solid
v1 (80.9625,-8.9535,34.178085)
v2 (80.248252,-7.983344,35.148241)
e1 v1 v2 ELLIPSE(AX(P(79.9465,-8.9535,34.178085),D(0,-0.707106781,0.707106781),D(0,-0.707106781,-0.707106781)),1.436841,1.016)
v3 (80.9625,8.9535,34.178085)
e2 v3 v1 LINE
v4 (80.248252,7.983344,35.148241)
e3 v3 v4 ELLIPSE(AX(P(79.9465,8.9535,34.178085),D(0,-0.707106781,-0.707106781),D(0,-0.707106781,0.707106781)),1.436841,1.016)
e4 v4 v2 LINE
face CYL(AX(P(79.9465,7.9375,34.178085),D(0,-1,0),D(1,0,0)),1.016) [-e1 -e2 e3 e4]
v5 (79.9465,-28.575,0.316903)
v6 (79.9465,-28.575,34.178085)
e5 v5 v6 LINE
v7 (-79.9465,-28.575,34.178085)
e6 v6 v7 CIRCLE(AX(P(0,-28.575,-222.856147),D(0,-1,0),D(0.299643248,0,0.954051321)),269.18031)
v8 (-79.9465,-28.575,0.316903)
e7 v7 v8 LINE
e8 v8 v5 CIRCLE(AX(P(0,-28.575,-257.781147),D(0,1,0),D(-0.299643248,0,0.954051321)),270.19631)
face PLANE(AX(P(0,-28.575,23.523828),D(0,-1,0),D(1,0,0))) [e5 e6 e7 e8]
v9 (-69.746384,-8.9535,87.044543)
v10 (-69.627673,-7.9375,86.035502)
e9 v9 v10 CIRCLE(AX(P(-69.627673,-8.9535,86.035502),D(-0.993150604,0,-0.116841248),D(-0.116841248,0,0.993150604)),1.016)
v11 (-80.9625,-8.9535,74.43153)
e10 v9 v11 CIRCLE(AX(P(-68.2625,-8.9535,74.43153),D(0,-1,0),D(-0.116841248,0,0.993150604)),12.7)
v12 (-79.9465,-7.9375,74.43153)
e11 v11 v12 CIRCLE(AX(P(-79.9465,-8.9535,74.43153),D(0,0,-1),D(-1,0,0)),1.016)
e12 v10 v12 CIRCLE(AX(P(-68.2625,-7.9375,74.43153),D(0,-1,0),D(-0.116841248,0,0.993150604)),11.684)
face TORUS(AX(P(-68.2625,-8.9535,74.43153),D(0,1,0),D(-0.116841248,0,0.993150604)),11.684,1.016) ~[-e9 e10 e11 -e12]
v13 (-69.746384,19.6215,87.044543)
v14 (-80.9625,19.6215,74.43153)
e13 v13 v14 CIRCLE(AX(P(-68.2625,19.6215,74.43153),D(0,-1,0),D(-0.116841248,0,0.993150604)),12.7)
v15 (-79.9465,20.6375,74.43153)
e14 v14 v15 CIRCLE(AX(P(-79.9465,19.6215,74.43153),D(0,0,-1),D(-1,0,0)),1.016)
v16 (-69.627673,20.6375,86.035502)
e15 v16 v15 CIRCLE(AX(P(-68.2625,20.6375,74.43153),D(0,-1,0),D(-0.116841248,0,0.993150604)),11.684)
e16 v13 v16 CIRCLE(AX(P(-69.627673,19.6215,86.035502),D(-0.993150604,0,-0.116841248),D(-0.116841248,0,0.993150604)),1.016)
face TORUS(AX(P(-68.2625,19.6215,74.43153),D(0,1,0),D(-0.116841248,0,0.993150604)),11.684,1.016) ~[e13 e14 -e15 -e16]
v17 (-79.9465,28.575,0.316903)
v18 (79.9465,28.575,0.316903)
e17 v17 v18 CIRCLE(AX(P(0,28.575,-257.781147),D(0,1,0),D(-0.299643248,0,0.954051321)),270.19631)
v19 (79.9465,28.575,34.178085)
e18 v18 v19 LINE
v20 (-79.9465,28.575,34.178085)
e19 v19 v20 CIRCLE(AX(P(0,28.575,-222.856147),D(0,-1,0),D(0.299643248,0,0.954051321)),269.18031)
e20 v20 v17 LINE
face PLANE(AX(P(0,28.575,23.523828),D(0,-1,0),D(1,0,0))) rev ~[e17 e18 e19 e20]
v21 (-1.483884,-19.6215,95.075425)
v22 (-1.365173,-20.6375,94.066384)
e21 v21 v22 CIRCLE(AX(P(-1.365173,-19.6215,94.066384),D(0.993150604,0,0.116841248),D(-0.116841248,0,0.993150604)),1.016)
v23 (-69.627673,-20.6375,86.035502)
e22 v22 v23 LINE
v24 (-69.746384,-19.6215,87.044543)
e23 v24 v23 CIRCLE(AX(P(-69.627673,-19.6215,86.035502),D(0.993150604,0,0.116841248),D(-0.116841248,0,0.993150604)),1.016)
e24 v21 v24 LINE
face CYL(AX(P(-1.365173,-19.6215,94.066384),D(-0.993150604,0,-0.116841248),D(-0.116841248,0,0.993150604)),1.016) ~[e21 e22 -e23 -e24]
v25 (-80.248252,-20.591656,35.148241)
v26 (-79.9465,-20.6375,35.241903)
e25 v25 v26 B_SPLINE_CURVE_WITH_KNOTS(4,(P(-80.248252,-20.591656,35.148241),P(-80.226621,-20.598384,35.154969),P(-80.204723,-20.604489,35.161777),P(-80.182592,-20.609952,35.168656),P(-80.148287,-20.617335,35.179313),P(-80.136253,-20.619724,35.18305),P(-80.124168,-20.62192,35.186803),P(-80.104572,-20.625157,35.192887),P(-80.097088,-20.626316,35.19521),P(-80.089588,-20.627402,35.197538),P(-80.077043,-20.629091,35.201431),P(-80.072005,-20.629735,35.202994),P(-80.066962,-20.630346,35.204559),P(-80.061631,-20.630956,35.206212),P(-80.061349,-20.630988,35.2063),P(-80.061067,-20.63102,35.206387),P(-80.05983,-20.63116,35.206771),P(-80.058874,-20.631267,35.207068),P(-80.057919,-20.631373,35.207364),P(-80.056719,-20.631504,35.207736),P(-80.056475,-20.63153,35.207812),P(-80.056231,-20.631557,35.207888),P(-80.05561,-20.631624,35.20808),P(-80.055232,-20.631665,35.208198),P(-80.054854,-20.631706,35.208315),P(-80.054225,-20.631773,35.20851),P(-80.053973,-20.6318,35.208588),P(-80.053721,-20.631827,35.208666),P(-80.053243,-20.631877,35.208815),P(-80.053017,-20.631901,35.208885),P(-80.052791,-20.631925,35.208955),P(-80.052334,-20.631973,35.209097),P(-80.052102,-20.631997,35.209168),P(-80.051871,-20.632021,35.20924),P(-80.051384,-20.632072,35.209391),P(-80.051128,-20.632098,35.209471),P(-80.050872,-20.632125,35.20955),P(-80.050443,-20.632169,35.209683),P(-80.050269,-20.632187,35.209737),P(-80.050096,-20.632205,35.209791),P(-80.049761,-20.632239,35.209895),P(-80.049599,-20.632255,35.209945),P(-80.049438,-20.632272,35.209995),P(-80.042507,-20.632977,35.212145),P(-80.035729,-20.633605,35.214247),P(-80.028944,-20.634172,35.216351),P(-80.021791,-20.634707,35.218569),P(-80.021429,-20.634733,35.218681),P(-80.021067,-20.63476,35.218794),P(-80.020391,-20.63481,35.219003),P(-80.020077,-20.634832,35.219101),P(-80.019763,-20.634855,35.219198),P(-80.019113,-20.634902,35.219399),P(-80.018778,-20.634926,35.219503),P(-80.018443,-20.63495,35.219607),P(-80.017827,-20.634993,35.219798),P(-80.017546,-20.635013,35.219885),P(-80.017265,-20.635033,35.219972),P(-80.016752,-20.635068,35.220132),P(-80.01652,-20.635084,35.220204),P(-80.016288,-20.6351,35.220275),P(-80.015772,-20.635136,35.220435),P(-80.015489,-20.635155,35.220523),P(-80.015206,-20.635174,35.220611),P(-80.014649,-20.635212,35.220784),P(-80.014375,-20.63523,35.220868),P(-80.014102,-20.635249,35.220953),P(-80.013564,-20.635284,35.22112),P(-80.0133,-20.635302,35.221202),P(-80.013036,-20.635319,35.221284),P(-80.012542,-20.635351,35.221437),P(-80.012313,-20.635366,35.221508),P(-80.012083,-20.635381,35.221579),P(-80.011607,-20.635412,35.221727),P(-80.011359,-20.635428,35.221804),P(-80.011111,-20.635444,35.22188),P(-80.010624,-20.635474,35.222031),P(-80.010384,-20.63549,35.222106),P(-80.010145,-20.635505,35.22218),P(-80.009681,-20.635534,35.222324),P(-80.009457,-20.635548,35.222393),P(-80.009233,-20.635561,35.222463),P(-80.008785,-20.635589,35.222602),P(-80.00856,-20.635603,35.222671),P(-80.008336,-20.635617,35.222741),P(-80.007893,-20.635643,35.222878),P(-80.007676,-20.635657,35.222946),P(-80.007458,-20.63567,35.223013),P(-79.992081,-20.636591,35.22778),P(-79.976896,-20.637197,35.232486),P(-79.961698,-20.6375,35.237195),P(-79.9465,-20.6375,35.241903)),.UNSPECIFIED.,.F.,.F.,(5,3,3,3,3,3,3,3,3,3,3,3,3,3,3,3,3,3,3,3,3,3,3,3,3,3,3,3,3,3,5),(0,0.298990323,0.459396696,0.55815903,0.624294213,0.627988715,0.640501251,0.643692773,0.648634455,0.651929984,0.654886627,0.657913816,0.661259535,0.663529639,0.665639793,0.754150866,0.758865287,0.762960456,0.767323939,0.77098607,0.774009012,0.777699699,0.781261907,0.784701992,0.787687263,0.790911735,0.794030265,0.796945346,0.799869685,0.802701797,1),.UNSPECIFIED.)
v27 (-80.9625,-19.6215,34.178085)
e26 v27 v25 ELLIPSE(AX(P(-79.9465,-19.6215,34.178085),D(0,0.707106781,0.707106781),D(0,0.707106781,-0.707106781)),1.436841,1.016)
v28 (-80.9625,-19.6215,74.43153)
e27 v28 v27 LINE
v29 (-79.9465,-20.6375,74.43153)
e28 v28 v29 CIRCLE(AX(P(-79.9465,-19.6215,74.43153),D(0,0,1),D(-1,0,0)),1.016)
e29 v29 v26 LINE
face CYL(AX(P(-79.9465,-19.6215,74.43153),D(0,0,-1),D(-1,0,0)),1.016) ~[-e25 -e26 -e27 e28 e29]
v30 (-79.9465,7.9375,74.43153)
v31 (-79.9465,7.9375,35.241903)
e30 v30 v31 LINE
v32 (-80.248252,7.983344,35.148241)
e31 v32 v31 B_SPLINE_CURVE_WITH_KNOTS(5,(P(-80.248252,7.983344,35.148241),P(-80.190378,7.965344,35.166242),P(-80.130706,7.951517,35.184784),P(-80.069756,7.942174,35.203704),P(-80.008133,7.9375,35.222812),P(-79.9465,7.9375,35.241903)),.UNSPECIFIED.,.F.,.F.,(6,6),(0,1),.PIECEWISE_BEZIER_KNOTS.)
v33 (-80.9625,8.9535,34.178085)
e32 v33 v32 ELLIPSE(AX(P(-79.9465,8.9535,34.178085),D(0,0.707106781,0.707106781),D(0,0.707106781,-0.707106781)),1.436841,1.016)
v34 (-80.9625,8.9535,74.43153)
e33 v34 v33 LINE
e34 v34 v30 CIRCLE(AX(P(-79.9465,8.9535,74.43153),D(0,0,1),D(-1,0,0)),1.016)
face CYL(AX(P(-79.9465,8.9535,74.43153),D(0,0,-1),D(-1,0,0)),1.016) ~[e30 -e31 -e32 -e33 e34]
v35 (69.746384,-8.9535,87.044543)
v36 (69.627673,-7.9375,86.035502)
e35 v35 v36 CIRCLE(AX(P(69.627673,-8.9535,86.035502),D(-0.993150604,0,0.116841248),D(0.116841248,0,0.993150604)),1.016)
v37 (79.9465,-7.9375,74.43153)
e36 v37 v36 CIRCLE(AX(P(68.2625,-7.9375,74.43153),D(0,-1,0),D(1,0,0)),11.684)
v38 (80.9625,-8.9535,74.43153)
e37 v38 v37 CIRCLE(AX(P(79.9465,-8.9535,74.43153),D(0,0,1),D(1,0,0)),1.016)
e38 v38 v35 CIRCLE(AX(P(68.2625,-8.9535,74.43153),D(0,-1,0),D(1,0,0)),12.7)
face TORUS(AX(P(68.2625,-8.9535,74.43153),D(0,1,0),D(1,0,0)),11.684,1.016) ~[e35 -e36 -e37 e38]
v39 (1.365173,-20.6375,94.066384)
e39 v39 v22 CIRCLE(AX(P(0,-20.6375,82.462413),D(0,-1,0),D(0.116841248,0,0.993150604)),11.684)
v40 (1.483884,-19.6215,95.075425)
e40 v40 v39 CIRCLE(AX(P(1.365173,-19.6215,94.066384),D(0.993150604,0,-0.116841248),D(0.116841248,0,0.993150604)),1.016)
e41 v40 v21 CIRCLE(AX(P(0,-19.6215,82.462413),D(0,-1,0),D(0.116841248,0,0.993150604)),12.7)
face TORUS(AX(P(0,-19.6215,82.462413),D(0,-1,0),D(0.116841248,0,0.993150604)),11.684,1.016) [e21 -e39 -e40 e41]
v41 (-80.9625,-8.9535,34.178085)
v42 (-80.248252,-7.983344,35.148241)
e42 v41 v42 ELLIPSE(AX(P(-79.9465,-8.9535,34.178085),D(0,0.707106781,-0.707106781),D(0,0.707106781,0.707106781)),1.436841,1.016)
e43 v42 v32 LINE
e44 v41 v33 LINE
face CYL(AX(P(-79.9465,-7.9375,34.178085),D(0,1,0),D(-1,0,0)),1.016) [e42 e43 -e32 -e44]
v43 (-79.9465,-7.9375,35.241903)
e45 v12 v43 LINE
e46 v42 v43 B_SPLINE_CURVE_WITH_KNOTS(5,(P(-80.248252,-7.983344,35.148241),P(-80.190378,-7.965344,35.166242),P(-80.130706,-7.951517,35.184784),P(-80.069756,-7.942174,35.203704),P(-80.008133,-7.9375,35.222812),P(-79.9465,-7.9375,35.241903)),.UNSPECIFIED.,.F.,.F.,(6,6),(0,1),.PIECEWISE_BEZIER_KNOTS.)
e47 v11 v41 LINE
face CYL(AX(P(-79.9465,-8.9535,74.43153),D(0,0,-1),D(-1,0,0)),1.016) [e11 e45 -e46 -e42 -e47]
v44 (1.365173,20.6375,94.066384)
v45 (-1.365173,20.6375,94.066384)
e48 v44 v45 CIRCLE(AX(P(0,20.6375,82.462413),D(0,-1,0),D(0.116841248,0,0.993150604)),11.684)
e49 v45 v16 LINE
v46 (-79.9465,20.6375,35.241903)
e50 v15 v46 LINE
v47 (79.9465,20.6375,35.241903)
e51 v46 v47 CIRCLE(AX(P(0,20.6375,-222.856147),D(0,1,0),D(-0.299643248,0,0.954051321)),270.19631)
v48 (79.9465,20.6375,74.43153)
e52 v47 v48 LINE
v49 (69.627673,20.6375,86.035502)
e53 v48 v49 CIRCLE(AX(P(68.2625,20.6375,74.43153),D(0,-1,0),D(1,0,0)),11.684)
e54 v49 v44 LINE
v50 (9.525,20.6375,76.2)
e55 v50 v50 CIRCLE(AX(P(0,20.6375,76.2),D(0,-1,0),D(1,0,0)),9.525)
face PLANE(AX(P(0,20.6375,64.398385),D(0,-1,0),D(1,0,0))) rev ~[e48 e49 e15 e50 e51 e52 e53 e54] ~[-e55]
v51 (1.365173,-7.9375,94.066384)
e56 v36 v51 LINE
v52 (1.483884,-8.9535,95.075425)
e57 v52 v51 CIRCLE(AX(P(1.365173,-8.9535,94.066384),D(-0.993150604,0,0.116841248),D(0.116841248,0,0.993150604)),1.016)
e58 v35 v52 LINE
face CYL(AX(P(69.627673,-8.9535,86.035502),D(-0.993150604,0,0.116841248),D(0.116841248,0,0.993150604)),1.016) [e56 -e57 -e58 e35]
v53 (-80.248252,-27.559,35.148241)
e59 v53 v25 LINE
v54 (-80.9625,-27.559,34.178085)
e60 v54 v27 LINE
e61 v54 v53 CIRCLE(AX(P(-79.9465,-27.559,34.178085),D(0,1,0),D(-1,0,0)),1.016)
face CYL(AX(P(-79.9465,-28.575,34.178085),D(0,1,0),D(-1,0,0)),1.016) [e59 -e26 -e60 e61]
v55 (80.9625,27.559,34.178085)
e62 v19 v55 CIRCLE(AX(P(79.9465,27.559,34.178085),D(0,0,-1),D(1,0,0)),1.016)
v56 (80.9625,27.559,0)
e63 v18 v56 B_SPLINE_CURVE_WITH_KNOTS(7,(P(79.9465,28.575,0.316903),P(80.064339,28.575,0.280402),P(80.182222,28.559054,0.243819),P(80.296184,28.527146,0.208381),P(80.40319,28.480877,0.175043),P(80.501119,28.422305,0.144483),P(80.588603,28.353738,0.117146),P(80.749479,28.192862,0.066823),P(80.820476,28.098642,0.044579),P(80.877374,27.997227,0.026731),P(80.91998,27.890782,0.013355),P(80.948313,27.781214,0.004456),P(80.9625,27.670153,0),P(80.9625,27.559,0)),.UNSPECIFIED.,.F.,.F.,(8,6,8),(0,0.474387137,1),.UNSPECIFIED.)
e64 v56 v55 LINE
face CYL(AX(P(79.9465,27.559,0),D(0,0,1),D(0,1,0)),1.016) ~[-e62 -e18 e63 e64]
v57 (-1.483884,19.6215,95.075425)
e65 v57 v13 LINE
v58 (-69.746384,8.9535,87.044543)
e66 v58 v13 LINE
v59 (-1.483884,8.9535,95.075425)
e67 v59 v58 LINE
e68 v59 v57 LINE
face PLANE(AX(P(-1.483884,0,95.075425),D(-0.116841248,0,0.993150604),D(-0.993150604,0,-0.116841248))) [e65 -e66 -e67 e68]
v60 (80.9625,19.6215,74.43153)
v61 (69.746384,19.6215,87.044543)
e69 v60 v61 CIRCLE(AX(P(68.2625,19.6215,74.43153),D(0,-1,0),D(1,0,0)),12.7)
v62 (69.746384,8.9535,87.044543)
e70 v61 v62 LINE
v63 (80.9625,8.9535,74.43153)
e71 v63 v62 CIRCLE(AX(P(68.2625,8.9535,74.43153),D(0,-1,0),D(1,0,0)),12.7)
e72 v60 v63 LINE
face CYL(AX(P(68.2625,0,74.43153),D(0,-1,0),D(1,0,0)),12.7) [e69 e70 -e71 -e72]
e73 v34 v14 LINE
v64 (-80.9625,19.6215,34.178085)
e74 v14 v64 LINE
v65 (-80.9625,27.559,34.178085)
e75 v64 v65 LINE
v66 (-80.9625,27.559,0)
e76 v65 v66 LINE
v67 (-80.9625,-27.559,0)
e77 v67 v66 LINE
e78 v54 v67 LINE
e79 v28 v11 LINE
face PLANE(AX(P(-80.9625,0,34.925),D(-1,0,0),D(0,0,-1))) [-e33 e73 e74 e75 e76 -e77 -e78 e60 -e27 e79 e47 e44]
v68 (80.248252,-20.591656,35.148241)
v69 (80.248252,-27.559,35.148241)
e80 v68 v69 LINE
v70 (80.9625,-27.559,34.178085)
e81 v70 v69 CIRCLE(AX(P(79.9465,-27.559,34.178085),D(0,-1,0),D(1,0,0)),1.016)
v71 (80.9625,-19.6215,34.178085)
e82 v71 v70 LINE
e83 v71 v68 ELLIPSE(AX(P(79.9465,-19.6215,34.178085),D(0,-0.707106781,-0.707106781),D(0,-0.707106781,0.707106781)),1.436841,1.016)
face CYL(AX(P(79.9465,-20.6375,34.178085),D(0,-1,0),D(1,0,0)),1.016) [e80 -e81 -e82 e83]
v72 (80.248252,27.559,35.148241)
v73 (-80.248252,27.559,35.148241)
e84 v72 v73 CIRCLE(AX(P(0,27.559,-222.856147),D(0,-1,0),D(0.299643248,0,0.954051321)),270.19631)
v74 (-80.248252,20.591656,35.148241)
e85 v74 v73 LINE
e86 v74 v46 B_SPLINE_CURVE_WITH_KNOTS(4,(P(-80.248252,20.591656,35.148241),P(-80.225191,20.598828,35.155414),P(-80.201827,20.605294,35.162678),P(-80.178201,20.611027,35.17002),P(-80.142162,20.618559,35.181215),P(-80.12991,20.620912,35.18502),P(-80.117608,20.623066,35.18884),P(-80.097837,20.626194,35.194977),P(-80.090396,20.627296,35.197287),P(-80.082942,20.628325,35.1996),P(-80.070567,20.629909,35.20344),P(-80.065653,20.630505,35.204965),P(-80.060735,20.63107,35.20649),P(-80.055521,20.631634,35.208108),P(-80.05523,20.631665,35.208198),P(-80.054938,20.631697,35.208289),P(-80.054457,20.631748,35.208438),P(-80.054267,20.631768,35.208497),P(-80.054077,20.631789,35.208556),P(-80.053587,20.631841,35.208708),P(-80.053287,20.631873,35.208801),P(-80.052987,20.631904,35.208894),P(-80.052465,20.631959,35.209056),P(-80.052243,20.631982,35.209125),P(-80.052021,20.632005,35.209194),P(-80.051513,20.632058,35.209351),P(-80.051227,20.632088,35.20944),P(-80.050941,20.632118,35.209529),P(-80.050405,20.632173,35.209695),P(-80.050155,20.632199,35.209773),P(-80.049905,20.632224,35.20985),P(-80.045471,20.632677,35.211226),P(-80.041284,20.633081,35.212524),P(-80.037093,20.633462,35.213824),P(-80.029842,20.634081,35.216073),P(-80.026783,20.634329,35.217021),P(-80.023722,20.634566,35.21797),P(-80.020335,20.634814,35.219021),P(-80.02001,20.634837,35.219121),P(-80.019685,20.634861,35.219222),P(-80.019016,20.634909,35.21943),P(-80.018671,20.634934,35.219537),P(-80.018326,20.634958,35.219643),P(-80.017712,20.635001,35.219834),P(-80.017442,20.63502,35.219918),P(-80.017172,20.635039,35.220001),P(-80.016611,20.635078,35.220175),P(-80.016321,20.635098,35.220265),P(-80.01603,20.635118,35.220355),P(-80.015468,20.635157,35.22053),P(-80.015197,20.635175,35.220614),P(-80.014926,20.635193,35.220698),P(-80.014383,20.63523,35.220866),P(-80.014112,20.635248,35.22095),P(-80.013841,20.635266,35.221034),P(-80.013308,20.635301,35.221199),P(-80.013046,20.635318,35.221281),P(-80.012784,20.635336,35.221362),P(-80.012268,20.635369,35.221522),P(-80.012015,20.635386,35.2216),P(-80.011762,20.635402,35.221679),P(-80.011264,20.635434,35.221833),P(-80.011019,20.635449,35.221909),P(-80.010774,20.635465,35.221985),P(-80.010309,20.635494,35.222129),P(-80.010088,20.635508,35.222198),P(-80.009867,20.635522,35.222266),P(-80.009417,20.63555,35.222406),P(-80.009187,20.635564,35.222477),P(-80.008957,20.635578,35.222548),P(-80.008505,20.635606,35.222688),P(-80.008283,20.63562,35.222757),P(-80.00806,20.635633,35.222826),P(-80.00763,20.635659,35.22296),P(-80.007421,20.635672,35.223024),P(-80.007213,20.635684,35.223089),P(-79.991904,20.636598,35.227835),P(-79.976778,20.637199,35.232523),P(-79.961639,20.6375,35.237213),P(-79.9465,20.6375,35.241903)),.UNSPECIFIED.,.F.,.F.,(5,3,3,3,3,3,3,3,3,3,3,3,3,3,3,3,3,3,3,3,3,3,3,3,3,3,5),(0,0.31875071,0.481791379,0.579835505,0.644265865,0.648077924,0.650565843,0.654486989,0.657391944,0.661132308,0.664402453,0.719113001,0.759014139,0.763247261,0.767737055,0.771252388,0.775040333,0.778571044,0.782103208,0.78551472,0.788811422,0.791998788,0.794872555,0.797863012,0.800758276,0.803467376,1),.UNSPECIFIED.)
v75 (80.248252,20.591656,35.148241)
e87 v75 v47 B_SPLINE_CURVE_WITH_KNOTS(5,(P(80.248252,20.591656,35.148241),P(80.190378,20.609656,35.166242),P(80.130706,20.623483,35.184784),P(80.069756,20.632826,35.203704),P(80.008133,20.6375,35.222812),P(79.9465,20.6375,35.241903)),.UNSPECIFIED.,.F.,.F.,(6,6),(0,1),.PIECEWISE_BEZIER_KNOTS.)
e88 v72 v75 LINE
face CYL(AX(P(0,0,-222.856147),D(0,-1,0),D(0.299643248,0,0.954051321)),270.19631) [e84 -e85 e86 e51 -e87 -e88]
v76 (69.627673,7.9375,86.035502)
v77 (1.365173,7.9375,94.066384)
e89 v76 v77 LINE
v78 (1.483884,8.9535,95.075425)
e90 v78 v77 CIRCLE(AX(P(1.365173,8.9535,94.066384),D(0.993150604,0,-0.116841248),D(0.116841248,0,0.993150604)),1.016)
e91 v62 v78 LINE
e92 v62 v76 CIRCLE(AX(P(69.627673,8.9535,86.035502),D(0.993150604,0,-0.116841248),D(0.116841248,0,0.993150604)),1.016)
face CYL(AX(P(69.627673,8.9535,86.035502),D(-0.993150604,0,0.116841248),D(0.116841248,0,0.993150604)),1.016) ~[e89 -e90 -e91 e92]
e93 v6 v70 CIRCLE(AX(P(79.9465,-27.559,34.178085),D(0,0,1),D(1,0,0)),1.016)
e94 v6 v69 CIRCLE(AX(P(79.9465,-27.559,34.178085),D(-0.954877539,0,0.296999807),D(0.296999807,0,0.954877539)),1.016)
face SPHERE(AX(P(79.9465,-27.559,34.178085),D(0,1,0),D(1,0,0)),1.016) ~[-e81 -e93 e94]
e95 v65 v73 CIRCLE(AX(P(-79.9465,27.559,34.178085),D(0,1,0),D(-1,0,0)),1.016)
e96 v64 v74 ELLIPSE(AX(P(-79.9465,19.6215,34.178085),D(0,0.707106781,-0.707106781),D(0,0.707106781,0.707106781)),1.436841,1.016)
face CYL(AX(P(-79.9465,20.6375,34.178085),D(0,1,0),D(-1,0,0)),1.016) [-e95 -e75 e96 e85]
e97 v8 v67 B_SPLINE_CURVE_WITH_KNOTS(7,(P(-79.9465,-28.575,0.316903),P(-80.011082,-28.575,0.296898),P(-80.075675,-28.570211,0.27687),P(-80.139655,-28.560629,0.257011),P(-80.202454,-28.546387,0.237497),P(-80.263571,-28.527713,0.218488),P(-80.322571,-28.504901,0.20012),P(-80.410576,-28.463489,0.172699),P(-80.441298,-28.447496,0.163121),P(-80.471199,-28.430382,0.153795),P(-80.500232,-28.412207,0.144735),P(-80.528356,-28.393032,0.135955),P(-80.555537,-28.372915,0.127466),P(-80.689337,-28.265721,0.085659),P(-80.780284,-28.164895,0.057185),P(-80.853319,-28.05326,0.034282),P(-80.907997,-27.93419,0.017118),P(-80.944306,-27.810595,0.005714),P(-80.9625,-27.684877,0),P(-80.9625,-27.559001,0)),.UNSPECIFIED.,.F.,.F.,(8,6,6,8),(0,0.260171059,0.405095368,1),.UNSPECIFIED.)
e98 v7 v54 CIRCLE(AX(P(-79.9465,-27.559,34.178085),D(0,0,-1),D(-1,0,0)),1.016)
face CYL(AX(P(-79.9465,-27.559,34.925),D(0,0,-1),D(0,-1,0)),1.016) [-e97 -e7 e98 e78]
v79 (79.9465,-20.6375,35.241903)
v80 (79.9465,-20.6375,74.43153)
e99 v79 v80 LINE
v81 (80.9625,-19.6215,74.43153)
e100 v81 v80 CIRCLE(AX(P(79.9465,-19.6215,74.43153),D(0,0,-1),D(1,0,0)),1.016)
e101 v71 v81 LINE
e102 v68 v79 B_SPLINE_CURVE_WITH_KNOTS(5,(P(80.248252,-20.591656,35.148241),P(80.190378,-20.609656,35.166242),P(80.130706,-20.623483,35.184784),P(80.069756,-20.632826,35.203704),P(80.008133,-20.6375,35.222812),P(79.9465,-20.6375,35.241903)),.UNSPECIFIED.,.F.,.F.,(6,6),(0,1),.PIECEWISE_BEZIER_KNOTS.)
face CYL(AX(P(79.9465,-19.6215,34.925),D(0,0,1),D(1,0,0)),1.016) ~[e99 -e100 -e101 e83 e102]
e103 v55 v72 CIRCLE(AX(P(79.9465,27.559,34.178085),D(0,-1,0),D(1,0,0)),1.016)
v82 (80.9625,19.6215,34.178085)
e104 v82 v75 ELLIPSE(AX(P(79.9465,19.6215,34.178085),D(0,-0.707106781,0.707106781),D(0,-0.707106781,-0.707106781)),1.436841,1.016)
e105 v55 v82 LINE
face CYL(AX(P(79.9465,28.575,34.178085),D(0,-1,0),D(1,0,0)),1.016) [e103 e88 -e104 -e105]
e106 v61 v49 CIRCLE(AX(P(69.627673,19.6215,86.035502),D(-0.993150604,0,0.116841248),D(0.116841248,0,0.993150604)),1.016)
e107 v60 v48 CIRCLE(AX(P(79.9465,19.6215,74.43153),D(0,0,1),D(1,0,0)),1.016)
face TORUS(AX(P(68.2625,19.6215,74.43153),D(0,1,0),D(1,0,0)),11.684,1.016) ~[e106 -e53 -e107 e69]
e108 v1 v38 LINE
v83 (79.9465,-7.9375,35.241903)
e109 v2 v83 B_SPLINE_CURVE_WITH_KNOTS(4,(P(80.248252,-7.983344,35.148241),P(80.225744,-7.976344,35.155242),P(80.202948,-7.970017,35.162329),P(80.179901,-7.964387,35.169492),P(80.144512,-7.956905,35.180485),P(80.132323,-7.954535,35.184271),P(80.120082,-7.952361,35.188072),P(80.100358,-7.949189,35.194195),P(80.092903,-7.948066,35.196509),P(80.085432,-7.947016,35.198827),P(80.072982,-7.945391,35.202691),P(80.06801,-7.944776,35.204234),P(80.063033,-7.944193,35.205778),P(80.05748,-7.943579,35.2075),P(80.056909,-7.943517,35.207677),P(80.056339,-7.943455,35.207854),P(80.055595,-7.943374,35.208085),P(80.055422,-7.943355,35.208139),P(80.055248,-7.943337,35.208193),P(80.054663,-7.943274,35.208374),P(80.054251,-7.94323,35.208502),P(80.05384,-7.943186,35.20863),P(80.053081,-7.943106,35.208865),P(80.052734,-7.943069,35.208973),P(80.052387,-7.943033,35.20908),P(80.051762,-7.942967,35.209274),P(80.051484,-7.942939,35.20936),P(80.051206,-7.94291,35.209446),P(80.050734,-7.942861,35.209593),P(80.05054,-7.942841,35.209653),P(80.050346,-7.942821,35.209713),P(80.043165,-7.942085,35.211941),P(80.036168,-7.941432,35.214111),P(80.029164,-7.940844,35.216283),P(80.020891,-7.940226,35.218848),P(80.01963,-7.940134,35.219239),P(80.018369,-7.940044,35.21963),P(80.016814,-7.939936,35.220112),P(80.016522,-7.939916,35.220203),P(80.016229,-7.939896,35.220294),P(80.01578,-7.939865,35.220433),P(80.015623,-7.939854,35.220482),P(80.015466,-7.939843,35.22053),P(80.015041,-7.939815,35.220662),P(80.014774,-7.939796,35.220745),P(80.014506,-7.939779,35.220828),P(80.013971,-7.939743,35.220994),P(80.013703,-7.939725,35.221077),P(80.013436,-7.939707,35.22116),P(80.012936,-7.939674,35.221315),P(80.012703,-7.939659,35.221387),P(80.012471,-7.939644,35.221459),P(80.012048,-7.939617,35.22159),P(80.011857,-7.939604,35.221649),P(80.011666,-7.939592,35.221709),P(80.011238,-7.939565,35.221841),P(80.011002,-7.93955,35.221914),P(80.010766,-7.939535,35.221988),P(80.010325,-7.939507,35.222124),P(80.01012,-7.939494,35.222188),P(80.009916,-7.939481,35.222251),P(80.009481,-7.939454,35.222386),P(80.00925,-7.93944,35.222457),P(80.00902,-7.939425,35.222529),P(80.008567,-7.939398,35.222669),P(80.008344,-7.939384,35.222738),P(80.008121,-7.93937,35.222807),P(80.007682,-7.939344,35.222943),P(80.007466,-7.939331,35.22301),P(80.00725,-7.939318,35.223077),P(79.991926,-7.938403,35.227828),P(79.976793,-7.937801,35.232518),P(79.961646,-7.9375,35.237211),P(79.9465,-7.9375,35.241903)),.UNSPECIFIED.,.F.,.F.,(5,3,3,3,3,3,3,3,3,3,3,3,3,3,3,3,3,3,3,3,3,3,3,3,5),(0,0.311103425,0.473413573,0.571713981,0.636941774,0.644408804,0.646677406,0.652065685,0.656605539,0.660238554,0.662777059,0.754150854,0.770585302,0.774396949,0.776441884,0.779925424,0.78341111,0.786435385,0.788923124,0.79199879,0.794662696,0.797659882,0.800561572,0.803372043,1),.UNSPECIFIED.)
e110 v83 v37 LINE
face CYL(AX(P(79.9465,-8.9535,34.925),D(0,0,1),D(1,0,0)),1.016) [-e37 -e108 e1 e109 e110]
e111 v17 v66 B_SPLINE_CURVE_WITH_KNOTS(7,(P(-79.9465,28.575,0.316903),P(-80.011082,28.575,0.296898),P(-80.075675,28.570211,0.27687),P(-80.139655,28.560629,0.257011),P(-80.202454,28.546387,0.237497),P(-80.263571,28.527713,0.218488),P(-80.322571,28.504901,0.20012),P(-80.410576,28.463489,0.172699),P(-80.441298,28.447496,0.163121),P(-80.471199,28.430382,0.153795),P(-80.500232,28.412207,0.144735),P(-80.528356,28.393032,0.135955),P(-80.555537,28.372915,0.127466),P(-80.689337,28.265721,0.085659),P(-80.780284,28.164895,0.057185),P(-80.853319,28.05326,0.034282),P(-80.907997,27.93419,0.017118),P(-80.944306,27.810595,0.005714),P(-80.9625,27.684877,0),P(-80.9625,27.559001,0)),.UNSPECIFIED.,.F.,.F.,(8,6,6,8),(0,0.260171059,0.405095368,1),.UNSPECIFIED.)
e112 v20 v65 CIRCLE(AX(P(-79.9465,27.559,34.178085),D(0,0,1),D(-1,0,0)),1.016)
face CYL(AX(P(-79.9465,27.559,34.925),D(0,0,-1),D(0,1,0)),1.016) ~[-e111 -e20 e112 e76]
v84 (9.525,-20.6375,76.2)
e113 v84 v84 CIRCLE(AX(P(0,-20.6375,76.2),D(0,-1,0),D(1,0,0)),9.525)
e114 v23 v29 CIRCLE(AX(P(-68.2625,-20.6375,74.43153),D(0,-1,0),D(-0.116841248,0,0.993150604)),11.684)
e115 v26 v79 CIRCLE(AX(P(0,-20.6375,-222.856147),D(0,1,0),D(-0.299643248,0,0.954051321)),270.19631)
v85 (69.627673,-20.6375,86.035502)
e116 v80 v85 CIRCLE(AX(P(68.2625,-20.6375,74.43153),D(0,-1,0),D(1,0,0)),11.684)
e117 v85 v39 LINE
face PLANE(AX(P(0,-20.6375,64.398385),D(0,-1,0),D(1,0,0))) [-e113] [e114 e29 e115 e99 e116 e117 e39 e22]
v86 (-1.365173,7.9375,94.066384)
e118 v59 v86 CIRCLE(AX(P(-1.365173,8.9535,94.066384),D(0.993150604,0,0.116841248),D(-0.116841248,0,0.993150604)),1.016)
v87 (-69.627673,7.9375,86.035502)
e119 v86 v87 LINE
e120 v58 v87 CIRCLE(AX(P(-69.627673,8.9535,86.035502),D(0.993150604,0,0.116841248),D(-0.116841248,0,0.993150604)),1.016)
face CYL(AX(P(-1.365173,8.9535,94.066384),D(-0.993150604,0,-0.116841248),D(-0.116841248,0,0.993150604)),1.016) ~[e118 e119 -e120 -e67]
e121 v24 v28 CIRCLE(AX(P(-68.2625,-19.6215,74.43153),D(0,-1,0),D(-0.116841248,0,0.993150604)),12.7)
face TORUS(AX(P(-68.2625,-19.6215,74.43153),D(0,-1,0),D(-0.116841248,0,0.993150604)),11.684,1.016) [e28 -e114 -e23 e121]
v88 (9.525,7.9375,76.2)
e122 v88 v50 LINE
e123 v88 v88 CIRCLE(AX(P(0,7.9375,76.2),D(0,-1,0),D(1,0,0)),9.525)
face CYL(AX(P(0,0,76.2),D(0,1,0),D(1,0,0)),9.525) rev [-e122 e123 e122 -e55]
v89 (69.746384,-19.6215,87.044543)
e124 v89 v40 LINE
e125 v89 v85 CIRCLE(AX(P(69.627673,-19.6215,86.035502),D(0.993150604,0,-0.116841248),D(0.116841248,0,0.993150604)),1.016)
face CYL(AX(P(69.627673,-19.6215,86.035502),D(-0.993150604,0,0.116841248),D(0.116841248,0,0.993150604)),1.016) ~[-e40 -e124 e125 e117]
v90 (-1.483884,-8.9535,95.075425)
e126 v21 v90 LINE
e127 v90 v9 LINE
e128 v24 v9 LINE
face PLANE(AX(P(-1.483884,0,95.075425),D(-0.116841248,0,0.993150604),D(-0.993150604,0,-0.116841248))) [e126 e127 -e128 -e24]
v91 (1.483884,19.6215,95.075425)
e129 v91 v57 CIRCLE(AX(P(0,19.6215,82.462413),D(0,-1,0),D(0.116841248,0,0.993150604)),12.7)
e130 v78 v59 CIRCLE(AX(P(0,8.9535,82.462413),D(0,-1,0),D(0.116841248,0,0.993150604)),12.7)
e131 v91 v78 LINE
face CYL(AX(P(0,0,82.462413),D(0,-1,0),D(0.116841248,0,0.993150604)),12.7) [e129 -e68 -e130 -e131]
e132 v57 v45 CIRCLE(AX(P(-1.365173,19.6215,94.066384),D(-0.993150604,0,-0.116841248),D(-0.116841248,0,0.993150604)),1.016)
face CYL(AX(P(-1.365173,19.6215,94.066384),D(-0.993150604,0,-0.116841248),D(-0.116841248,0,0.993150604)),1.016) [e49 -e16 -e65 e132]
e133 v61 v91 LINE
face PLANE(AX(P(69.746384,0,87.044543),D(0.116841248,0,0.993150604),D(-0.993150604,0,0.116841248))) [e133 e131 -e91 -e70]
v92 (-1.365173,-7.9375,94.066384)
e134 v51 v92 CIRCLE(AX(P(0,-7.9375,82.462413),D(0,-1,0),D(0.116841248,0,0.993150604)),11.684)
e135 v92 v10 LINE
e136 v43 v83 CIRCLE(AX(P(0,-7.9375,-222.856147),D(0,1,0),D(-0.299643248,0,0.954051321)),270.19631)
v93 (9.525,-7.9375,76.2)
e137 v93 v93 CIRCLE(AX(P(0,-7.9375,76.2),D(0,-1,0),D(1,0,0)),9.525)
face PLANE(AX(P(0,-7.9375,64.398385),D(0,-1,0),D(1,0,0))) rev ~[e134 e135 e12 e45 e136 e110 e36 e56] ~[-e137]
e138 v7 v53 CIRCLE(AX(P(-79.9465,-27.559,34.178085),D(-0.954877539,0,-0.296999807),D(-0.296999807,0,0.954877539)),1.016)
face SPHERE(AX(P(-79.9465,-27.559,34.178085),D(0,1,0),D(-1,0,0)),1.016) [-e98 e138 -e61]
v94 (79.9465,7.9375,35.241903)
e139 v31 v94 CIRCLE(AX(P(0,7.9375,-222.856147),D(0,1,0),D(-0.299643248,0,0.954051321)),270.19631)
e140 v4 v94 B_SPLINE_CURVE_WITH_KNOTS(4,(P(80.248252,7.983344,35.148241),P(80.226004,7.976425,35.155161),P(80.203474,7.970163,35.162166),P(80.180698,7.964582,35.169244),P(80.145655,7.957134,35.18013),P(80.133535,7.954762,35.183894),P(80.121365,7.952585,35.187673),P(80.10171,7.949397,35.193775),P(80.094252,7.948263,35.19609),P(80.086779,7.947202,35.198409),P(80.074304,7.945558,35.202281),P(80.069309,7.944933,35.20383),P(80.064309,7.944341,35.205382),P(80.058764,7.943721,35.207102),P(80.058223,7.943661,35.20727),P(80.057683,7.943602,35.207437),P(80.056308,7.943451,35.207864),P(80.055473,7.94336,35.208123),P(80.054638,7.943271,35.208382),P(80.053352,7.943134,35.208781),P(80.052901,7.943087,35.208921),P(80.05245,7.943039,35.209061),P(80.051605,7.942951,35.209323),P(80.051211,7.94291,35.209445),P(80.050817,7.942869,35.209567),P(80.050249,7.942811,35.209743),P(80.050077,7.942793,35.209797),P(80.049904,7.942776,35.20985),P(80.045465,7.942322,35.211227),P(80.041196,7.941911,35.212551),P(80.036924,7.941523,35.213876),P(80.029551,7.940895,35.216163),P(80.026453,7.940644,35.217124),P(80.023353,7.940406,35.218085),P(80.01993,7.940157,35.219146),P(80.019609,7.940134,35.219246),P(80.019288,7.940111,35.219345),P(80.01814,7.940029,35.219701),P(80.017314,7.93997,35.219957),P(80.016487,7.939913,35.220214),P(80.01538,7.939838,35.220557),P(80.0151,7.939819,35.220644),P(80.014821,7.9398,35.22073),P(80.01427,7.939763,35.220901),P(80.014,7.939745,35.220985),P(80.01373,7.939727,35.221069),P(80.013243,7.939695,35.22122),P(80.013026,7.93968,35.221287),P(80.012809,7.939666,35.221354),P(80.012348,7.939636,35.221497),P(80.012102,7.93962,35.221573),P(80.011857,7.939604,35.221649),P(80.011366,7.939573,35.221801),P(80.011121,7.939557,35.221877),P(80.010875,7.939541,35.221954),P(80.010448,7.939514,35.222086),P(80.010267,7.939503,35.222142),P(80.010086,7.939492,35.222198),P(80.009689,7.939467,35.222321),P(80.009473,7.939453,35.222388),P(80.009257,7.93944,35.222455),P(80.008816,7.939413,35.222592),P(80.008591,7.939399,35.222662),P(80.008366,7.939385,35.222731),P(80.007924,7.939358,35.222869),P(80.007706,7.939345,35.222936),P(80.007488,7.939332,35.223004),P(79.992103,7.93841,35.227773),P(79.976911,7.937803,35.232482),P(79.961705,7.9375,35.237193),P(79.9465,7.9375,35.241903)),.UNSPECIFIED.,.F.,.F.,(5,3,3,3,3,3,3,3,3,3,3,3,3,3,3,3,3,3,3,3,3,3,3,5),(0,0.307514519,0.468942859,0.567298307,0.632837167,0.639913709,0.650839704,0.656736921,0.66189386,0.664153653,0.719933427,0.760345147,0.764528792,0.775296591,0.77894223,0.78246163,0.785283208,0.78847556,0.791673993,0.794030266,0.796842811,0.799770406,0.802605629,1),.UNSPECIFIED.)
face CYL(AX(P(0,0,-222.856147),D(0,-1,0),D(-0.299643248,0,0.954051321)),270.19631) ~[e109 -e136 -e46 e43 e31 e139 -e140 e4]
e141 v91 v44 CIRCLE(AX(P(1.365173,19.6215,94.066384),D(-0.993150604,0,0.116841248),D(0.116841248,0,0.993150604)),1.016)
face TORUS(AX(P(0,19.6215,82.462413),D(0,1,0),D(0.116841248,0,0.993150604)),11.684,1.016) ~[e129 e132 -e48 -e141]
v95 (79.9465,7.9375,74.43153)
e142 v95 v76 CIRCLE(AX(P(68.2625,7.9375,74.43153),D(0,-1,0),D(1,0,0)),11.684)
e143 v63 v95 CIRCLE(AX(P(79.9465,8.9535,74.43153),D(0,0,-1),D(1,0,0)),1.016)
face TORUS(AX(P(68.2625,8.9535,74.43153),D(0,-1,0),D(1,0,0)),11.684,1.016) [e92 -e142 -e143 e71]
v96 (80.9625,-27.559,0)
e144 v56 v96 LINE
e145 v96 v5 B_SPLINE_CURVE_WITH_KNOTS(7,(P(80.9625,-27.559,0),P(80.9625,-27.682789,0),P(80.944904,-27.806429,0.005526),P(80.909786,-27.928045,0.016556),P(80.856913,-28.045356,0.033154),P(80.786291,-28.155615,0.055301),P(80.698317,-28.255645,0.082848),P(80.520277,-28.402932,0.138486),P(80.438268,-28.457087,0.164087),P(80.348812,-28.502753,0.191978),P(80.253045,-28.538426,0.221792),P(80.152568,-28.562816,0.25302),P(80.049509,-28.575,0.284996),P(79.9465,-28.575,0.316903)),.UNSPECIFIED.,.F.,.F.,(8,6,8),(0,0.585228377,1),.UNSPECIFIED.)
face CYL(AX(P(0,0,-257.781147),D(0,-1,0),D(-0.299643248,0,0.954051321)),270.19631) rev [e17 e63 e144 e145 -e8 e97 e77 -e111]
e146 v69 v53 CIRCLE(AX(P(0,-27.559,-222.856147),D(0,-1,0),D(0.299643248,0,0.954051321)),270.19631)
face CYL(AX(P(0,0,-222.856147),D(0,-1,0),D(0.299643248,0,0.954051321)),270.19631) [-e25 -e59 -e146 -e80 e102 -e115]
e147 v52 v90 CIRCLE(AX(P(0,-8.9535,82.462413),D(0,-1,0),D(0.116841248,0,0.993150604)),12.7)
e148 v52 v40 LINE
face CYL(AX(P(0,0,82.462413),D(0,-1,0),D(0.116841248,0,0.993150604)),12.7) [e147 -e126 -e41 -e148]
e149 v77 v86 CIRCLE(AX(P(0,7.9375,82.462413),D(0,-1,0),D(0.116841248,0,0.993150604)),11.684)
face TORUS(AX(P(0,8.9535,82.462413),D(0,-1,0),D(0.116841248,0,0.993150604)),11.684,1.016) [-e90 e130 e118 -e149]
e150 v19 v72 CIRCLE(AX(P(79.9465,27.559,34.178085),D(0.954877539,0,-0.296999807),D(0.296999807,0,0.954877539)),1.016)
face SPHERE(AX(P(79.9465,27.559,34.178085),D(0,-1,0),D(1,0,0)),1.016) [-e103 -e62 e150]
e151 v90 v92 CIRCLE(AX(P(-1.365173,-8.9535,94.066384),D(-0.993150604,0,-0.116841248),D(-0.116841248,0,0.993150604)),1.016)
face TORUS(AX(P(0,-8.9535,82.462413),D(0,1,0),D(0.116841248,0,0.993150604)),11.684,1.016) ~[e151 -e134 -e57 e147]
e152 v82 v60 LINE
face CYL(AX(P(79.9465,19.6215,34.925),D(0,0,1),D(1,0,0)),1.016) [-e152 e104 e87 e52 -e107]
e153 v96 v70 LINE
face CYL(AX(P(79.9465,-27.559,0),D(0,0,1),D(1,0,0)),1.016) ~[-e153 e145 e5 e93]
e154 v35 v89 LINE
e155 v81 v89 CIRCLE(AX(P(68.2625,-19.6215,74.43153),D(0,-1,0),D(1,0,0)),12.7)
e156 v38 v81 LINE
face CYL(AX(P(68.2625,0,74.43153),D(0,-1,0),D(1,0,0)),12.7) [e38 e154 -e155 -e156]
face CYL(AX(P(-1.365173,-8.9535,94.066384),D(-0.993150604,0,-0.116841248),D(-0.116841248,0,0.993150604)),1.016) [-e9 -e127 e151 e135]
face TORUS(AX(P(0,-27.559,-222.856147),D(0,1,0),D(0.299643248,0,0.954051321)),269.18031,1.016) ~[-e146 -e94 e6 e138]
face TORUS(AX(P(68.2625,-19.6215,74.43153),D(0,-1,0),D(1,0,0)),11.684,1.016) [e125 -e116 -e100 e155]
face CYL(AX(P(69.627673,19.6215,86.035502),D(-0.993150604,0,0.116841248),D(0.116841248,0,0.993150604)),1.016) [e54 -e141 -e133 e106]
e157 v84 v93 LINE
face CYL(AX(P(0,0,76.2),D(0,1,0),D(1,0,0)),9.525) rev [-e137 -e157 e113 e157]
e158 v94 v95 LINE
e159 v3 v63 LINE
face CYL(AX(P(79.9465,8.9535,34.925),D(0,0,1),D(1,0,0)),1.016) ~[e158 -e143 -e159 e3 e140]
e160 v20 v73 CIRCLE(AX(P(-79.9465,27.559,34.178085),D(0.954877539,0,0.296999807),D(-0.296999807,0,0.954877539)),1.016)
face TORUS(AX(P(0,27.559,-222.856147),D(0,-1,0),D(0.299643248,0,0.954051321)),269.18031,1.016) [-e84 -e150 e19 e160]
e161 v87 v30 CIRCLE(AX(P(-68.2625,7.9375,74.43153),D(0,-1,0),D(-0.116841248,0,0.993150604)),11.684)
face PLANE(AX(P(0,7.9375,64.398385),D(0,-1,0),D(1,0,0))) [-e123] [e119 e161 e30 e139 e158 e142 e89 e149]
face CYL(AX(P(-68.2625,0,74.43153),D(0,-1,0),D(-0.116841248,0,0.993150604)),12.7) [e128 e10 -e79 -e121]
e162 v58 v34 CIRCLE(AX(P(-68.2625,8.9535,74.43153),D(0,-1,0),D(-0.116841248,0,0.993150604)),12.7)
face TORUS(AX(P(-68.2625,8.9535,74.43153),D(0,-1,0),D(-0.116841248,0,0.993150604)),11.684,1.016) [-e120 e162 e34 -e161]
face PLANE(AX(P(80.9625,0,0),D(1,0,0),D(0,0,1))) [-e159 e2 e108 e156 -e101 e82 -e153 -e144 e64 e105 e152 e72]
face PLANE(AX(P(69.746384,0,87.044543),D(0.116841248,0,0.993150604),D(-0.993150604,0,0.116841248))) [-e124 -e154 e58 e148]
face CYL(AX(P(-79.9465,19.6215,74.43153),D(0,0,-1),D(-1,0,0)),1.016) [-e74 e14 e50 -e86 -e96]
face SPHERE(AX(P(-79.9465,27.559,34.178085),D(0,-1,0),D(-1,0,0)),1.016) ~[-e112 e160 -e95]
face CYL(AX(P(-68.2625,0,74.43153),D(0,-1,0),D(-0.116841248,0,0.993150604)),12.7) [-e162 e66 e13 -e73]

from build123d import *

# Parameters (mm, degrees)
F1_DEPTH = 28.575
F0_R     = 9.525
F2_DEPTH = 20.6375
F3_DEPTH = 7.9375
F7_R     = 1.016


with BuildPart() as f1:
    # F0 (on Front) → F1 (new body, symmetric)
    with BuildSketch(Plane.XZ):
        with BuildLine():
            ThreePointArc((-80.9625, 0), (0, 12.4151634214), (80.9625, 0))
            Line((80.9625, 0), (80.9625, 34.925))
            ThreePointArc((80.9625, 34.925), (0, 47.3401634214), (-80.9625, 34.925))
            Line((-80.9625, 34.925), (-80.9625, 0))
        make_face()
    extrude(amount=F1_DEPTH, both=True)

    # F0 (on Front) → F2 (join, symmetric)
    with BuildSketch(Plane.XZ):
        with BuildLine():
            ThreePointArc((-80.9625, 34.925), (0, 47.3401634214), (80.9625, 34.925))
            Line((80.9625, 34.925), (80.9625, 74.4315304023))
            ThreePointArc((80.9625, 74.4315304023), (77.7528984326, 82.8708631715), (69.7463838441, 87.0445430772))
            Line((69.7463838441, 87.0445430772), (1.4838838441, 95.0754254301))
            ThreePointArc((1.4838838441, 95.0754254301), (0, 95.1624127552), (-1.4838838441, 95.0754254301))
            Line((-1.4838838441, 95.0754254301), (-69.7463838441, 87.0445430772))
            ThreePointArc((-69.7463838441, 87.0445430772), (-77.7528984326, 82.8708631715), (-80.9625, 74.4315304023))
            Line((-80.9625, 74.4315304023), (-80.9625, 34.925))
        make_face()
        with Locations((0, 76.2)):
            Circle(F0_R, mode=Mode.SUBTRACT)
    extrude(amount=F2_DEPTH, both=True)

    # F0 (on Front) → F3 (cut, symmetric)
    with BuildSketch(Plane.XZ):
        with BuildLine():
            ThreePointArc((-80.9625, 34.925), (0, 47.3401634214), (80.9625, 34.925))
            Line((80.9625, 34.925), (80.9625, 74.4315304023))
            ThreePointArc((80.9625, 74.4315304023), (77.7528984326, 82.8708631715), (69.7463838441, 87.0445430772))
            Line((69.7463838441, 87.0445430772), (1.4838838441, 95.0754254301))
            ThreePointArc((1.4838838441, 95.0754254301), (0, 95.1624127552), (-1.4838838441, 95.0754254301))
            Line((-1.4838838441, 95.0754254301), (-69.7463838441, 87.0445430772))
            ThreePointArc((-69.7463838441, 87.0445430772), (-77.7528984326, 82.8708631715), (-80.9625, 74.4315304023))
            Line((-80.9625, 74.4315304023), (-80.9625, 34.925))
        make_face()
        with Locations((0, 76.2)):
            Circle(F0_R, mode=Mode.SUBTRACT)
    extrude(amount=F3_DEPTH, both=True, mode=Mode.SUBTRACT)

    # F7
    f7_edges = [f1.edges().sort_by_distance(p)[0] for p in [
        (80.9625, 24.60625, 34.925),
        (80.9625, -24.60625, 34.925),
        (-80.9625, 24.60625, 34.925),
        (-80.9625, -24.60625, 34.925),
        (-80.9625, 0, 34.925),
        (80.9625, 0, 34.925),
        (80.9625, 28.575, 17.4625),
        (80.9625, -28.575, 17.4625),
        (-80.9625, 28.575, 17.4625),
        (-80.9625, -28.575, 17.4625),
        (0, -28.575, 47.340163),
        (0, 28.575, 47.340163),
        (-80.9625, -20.6375, 54.678265),
        (-80.9625, -7.9375, 54.678265),
        (80.9625, 20.6375, 54.678265),
        (80.9625, 7.9375, 54.678265),
    ]]
    fillet(f7_edges, radius=F7_R)


solid = f1.part
